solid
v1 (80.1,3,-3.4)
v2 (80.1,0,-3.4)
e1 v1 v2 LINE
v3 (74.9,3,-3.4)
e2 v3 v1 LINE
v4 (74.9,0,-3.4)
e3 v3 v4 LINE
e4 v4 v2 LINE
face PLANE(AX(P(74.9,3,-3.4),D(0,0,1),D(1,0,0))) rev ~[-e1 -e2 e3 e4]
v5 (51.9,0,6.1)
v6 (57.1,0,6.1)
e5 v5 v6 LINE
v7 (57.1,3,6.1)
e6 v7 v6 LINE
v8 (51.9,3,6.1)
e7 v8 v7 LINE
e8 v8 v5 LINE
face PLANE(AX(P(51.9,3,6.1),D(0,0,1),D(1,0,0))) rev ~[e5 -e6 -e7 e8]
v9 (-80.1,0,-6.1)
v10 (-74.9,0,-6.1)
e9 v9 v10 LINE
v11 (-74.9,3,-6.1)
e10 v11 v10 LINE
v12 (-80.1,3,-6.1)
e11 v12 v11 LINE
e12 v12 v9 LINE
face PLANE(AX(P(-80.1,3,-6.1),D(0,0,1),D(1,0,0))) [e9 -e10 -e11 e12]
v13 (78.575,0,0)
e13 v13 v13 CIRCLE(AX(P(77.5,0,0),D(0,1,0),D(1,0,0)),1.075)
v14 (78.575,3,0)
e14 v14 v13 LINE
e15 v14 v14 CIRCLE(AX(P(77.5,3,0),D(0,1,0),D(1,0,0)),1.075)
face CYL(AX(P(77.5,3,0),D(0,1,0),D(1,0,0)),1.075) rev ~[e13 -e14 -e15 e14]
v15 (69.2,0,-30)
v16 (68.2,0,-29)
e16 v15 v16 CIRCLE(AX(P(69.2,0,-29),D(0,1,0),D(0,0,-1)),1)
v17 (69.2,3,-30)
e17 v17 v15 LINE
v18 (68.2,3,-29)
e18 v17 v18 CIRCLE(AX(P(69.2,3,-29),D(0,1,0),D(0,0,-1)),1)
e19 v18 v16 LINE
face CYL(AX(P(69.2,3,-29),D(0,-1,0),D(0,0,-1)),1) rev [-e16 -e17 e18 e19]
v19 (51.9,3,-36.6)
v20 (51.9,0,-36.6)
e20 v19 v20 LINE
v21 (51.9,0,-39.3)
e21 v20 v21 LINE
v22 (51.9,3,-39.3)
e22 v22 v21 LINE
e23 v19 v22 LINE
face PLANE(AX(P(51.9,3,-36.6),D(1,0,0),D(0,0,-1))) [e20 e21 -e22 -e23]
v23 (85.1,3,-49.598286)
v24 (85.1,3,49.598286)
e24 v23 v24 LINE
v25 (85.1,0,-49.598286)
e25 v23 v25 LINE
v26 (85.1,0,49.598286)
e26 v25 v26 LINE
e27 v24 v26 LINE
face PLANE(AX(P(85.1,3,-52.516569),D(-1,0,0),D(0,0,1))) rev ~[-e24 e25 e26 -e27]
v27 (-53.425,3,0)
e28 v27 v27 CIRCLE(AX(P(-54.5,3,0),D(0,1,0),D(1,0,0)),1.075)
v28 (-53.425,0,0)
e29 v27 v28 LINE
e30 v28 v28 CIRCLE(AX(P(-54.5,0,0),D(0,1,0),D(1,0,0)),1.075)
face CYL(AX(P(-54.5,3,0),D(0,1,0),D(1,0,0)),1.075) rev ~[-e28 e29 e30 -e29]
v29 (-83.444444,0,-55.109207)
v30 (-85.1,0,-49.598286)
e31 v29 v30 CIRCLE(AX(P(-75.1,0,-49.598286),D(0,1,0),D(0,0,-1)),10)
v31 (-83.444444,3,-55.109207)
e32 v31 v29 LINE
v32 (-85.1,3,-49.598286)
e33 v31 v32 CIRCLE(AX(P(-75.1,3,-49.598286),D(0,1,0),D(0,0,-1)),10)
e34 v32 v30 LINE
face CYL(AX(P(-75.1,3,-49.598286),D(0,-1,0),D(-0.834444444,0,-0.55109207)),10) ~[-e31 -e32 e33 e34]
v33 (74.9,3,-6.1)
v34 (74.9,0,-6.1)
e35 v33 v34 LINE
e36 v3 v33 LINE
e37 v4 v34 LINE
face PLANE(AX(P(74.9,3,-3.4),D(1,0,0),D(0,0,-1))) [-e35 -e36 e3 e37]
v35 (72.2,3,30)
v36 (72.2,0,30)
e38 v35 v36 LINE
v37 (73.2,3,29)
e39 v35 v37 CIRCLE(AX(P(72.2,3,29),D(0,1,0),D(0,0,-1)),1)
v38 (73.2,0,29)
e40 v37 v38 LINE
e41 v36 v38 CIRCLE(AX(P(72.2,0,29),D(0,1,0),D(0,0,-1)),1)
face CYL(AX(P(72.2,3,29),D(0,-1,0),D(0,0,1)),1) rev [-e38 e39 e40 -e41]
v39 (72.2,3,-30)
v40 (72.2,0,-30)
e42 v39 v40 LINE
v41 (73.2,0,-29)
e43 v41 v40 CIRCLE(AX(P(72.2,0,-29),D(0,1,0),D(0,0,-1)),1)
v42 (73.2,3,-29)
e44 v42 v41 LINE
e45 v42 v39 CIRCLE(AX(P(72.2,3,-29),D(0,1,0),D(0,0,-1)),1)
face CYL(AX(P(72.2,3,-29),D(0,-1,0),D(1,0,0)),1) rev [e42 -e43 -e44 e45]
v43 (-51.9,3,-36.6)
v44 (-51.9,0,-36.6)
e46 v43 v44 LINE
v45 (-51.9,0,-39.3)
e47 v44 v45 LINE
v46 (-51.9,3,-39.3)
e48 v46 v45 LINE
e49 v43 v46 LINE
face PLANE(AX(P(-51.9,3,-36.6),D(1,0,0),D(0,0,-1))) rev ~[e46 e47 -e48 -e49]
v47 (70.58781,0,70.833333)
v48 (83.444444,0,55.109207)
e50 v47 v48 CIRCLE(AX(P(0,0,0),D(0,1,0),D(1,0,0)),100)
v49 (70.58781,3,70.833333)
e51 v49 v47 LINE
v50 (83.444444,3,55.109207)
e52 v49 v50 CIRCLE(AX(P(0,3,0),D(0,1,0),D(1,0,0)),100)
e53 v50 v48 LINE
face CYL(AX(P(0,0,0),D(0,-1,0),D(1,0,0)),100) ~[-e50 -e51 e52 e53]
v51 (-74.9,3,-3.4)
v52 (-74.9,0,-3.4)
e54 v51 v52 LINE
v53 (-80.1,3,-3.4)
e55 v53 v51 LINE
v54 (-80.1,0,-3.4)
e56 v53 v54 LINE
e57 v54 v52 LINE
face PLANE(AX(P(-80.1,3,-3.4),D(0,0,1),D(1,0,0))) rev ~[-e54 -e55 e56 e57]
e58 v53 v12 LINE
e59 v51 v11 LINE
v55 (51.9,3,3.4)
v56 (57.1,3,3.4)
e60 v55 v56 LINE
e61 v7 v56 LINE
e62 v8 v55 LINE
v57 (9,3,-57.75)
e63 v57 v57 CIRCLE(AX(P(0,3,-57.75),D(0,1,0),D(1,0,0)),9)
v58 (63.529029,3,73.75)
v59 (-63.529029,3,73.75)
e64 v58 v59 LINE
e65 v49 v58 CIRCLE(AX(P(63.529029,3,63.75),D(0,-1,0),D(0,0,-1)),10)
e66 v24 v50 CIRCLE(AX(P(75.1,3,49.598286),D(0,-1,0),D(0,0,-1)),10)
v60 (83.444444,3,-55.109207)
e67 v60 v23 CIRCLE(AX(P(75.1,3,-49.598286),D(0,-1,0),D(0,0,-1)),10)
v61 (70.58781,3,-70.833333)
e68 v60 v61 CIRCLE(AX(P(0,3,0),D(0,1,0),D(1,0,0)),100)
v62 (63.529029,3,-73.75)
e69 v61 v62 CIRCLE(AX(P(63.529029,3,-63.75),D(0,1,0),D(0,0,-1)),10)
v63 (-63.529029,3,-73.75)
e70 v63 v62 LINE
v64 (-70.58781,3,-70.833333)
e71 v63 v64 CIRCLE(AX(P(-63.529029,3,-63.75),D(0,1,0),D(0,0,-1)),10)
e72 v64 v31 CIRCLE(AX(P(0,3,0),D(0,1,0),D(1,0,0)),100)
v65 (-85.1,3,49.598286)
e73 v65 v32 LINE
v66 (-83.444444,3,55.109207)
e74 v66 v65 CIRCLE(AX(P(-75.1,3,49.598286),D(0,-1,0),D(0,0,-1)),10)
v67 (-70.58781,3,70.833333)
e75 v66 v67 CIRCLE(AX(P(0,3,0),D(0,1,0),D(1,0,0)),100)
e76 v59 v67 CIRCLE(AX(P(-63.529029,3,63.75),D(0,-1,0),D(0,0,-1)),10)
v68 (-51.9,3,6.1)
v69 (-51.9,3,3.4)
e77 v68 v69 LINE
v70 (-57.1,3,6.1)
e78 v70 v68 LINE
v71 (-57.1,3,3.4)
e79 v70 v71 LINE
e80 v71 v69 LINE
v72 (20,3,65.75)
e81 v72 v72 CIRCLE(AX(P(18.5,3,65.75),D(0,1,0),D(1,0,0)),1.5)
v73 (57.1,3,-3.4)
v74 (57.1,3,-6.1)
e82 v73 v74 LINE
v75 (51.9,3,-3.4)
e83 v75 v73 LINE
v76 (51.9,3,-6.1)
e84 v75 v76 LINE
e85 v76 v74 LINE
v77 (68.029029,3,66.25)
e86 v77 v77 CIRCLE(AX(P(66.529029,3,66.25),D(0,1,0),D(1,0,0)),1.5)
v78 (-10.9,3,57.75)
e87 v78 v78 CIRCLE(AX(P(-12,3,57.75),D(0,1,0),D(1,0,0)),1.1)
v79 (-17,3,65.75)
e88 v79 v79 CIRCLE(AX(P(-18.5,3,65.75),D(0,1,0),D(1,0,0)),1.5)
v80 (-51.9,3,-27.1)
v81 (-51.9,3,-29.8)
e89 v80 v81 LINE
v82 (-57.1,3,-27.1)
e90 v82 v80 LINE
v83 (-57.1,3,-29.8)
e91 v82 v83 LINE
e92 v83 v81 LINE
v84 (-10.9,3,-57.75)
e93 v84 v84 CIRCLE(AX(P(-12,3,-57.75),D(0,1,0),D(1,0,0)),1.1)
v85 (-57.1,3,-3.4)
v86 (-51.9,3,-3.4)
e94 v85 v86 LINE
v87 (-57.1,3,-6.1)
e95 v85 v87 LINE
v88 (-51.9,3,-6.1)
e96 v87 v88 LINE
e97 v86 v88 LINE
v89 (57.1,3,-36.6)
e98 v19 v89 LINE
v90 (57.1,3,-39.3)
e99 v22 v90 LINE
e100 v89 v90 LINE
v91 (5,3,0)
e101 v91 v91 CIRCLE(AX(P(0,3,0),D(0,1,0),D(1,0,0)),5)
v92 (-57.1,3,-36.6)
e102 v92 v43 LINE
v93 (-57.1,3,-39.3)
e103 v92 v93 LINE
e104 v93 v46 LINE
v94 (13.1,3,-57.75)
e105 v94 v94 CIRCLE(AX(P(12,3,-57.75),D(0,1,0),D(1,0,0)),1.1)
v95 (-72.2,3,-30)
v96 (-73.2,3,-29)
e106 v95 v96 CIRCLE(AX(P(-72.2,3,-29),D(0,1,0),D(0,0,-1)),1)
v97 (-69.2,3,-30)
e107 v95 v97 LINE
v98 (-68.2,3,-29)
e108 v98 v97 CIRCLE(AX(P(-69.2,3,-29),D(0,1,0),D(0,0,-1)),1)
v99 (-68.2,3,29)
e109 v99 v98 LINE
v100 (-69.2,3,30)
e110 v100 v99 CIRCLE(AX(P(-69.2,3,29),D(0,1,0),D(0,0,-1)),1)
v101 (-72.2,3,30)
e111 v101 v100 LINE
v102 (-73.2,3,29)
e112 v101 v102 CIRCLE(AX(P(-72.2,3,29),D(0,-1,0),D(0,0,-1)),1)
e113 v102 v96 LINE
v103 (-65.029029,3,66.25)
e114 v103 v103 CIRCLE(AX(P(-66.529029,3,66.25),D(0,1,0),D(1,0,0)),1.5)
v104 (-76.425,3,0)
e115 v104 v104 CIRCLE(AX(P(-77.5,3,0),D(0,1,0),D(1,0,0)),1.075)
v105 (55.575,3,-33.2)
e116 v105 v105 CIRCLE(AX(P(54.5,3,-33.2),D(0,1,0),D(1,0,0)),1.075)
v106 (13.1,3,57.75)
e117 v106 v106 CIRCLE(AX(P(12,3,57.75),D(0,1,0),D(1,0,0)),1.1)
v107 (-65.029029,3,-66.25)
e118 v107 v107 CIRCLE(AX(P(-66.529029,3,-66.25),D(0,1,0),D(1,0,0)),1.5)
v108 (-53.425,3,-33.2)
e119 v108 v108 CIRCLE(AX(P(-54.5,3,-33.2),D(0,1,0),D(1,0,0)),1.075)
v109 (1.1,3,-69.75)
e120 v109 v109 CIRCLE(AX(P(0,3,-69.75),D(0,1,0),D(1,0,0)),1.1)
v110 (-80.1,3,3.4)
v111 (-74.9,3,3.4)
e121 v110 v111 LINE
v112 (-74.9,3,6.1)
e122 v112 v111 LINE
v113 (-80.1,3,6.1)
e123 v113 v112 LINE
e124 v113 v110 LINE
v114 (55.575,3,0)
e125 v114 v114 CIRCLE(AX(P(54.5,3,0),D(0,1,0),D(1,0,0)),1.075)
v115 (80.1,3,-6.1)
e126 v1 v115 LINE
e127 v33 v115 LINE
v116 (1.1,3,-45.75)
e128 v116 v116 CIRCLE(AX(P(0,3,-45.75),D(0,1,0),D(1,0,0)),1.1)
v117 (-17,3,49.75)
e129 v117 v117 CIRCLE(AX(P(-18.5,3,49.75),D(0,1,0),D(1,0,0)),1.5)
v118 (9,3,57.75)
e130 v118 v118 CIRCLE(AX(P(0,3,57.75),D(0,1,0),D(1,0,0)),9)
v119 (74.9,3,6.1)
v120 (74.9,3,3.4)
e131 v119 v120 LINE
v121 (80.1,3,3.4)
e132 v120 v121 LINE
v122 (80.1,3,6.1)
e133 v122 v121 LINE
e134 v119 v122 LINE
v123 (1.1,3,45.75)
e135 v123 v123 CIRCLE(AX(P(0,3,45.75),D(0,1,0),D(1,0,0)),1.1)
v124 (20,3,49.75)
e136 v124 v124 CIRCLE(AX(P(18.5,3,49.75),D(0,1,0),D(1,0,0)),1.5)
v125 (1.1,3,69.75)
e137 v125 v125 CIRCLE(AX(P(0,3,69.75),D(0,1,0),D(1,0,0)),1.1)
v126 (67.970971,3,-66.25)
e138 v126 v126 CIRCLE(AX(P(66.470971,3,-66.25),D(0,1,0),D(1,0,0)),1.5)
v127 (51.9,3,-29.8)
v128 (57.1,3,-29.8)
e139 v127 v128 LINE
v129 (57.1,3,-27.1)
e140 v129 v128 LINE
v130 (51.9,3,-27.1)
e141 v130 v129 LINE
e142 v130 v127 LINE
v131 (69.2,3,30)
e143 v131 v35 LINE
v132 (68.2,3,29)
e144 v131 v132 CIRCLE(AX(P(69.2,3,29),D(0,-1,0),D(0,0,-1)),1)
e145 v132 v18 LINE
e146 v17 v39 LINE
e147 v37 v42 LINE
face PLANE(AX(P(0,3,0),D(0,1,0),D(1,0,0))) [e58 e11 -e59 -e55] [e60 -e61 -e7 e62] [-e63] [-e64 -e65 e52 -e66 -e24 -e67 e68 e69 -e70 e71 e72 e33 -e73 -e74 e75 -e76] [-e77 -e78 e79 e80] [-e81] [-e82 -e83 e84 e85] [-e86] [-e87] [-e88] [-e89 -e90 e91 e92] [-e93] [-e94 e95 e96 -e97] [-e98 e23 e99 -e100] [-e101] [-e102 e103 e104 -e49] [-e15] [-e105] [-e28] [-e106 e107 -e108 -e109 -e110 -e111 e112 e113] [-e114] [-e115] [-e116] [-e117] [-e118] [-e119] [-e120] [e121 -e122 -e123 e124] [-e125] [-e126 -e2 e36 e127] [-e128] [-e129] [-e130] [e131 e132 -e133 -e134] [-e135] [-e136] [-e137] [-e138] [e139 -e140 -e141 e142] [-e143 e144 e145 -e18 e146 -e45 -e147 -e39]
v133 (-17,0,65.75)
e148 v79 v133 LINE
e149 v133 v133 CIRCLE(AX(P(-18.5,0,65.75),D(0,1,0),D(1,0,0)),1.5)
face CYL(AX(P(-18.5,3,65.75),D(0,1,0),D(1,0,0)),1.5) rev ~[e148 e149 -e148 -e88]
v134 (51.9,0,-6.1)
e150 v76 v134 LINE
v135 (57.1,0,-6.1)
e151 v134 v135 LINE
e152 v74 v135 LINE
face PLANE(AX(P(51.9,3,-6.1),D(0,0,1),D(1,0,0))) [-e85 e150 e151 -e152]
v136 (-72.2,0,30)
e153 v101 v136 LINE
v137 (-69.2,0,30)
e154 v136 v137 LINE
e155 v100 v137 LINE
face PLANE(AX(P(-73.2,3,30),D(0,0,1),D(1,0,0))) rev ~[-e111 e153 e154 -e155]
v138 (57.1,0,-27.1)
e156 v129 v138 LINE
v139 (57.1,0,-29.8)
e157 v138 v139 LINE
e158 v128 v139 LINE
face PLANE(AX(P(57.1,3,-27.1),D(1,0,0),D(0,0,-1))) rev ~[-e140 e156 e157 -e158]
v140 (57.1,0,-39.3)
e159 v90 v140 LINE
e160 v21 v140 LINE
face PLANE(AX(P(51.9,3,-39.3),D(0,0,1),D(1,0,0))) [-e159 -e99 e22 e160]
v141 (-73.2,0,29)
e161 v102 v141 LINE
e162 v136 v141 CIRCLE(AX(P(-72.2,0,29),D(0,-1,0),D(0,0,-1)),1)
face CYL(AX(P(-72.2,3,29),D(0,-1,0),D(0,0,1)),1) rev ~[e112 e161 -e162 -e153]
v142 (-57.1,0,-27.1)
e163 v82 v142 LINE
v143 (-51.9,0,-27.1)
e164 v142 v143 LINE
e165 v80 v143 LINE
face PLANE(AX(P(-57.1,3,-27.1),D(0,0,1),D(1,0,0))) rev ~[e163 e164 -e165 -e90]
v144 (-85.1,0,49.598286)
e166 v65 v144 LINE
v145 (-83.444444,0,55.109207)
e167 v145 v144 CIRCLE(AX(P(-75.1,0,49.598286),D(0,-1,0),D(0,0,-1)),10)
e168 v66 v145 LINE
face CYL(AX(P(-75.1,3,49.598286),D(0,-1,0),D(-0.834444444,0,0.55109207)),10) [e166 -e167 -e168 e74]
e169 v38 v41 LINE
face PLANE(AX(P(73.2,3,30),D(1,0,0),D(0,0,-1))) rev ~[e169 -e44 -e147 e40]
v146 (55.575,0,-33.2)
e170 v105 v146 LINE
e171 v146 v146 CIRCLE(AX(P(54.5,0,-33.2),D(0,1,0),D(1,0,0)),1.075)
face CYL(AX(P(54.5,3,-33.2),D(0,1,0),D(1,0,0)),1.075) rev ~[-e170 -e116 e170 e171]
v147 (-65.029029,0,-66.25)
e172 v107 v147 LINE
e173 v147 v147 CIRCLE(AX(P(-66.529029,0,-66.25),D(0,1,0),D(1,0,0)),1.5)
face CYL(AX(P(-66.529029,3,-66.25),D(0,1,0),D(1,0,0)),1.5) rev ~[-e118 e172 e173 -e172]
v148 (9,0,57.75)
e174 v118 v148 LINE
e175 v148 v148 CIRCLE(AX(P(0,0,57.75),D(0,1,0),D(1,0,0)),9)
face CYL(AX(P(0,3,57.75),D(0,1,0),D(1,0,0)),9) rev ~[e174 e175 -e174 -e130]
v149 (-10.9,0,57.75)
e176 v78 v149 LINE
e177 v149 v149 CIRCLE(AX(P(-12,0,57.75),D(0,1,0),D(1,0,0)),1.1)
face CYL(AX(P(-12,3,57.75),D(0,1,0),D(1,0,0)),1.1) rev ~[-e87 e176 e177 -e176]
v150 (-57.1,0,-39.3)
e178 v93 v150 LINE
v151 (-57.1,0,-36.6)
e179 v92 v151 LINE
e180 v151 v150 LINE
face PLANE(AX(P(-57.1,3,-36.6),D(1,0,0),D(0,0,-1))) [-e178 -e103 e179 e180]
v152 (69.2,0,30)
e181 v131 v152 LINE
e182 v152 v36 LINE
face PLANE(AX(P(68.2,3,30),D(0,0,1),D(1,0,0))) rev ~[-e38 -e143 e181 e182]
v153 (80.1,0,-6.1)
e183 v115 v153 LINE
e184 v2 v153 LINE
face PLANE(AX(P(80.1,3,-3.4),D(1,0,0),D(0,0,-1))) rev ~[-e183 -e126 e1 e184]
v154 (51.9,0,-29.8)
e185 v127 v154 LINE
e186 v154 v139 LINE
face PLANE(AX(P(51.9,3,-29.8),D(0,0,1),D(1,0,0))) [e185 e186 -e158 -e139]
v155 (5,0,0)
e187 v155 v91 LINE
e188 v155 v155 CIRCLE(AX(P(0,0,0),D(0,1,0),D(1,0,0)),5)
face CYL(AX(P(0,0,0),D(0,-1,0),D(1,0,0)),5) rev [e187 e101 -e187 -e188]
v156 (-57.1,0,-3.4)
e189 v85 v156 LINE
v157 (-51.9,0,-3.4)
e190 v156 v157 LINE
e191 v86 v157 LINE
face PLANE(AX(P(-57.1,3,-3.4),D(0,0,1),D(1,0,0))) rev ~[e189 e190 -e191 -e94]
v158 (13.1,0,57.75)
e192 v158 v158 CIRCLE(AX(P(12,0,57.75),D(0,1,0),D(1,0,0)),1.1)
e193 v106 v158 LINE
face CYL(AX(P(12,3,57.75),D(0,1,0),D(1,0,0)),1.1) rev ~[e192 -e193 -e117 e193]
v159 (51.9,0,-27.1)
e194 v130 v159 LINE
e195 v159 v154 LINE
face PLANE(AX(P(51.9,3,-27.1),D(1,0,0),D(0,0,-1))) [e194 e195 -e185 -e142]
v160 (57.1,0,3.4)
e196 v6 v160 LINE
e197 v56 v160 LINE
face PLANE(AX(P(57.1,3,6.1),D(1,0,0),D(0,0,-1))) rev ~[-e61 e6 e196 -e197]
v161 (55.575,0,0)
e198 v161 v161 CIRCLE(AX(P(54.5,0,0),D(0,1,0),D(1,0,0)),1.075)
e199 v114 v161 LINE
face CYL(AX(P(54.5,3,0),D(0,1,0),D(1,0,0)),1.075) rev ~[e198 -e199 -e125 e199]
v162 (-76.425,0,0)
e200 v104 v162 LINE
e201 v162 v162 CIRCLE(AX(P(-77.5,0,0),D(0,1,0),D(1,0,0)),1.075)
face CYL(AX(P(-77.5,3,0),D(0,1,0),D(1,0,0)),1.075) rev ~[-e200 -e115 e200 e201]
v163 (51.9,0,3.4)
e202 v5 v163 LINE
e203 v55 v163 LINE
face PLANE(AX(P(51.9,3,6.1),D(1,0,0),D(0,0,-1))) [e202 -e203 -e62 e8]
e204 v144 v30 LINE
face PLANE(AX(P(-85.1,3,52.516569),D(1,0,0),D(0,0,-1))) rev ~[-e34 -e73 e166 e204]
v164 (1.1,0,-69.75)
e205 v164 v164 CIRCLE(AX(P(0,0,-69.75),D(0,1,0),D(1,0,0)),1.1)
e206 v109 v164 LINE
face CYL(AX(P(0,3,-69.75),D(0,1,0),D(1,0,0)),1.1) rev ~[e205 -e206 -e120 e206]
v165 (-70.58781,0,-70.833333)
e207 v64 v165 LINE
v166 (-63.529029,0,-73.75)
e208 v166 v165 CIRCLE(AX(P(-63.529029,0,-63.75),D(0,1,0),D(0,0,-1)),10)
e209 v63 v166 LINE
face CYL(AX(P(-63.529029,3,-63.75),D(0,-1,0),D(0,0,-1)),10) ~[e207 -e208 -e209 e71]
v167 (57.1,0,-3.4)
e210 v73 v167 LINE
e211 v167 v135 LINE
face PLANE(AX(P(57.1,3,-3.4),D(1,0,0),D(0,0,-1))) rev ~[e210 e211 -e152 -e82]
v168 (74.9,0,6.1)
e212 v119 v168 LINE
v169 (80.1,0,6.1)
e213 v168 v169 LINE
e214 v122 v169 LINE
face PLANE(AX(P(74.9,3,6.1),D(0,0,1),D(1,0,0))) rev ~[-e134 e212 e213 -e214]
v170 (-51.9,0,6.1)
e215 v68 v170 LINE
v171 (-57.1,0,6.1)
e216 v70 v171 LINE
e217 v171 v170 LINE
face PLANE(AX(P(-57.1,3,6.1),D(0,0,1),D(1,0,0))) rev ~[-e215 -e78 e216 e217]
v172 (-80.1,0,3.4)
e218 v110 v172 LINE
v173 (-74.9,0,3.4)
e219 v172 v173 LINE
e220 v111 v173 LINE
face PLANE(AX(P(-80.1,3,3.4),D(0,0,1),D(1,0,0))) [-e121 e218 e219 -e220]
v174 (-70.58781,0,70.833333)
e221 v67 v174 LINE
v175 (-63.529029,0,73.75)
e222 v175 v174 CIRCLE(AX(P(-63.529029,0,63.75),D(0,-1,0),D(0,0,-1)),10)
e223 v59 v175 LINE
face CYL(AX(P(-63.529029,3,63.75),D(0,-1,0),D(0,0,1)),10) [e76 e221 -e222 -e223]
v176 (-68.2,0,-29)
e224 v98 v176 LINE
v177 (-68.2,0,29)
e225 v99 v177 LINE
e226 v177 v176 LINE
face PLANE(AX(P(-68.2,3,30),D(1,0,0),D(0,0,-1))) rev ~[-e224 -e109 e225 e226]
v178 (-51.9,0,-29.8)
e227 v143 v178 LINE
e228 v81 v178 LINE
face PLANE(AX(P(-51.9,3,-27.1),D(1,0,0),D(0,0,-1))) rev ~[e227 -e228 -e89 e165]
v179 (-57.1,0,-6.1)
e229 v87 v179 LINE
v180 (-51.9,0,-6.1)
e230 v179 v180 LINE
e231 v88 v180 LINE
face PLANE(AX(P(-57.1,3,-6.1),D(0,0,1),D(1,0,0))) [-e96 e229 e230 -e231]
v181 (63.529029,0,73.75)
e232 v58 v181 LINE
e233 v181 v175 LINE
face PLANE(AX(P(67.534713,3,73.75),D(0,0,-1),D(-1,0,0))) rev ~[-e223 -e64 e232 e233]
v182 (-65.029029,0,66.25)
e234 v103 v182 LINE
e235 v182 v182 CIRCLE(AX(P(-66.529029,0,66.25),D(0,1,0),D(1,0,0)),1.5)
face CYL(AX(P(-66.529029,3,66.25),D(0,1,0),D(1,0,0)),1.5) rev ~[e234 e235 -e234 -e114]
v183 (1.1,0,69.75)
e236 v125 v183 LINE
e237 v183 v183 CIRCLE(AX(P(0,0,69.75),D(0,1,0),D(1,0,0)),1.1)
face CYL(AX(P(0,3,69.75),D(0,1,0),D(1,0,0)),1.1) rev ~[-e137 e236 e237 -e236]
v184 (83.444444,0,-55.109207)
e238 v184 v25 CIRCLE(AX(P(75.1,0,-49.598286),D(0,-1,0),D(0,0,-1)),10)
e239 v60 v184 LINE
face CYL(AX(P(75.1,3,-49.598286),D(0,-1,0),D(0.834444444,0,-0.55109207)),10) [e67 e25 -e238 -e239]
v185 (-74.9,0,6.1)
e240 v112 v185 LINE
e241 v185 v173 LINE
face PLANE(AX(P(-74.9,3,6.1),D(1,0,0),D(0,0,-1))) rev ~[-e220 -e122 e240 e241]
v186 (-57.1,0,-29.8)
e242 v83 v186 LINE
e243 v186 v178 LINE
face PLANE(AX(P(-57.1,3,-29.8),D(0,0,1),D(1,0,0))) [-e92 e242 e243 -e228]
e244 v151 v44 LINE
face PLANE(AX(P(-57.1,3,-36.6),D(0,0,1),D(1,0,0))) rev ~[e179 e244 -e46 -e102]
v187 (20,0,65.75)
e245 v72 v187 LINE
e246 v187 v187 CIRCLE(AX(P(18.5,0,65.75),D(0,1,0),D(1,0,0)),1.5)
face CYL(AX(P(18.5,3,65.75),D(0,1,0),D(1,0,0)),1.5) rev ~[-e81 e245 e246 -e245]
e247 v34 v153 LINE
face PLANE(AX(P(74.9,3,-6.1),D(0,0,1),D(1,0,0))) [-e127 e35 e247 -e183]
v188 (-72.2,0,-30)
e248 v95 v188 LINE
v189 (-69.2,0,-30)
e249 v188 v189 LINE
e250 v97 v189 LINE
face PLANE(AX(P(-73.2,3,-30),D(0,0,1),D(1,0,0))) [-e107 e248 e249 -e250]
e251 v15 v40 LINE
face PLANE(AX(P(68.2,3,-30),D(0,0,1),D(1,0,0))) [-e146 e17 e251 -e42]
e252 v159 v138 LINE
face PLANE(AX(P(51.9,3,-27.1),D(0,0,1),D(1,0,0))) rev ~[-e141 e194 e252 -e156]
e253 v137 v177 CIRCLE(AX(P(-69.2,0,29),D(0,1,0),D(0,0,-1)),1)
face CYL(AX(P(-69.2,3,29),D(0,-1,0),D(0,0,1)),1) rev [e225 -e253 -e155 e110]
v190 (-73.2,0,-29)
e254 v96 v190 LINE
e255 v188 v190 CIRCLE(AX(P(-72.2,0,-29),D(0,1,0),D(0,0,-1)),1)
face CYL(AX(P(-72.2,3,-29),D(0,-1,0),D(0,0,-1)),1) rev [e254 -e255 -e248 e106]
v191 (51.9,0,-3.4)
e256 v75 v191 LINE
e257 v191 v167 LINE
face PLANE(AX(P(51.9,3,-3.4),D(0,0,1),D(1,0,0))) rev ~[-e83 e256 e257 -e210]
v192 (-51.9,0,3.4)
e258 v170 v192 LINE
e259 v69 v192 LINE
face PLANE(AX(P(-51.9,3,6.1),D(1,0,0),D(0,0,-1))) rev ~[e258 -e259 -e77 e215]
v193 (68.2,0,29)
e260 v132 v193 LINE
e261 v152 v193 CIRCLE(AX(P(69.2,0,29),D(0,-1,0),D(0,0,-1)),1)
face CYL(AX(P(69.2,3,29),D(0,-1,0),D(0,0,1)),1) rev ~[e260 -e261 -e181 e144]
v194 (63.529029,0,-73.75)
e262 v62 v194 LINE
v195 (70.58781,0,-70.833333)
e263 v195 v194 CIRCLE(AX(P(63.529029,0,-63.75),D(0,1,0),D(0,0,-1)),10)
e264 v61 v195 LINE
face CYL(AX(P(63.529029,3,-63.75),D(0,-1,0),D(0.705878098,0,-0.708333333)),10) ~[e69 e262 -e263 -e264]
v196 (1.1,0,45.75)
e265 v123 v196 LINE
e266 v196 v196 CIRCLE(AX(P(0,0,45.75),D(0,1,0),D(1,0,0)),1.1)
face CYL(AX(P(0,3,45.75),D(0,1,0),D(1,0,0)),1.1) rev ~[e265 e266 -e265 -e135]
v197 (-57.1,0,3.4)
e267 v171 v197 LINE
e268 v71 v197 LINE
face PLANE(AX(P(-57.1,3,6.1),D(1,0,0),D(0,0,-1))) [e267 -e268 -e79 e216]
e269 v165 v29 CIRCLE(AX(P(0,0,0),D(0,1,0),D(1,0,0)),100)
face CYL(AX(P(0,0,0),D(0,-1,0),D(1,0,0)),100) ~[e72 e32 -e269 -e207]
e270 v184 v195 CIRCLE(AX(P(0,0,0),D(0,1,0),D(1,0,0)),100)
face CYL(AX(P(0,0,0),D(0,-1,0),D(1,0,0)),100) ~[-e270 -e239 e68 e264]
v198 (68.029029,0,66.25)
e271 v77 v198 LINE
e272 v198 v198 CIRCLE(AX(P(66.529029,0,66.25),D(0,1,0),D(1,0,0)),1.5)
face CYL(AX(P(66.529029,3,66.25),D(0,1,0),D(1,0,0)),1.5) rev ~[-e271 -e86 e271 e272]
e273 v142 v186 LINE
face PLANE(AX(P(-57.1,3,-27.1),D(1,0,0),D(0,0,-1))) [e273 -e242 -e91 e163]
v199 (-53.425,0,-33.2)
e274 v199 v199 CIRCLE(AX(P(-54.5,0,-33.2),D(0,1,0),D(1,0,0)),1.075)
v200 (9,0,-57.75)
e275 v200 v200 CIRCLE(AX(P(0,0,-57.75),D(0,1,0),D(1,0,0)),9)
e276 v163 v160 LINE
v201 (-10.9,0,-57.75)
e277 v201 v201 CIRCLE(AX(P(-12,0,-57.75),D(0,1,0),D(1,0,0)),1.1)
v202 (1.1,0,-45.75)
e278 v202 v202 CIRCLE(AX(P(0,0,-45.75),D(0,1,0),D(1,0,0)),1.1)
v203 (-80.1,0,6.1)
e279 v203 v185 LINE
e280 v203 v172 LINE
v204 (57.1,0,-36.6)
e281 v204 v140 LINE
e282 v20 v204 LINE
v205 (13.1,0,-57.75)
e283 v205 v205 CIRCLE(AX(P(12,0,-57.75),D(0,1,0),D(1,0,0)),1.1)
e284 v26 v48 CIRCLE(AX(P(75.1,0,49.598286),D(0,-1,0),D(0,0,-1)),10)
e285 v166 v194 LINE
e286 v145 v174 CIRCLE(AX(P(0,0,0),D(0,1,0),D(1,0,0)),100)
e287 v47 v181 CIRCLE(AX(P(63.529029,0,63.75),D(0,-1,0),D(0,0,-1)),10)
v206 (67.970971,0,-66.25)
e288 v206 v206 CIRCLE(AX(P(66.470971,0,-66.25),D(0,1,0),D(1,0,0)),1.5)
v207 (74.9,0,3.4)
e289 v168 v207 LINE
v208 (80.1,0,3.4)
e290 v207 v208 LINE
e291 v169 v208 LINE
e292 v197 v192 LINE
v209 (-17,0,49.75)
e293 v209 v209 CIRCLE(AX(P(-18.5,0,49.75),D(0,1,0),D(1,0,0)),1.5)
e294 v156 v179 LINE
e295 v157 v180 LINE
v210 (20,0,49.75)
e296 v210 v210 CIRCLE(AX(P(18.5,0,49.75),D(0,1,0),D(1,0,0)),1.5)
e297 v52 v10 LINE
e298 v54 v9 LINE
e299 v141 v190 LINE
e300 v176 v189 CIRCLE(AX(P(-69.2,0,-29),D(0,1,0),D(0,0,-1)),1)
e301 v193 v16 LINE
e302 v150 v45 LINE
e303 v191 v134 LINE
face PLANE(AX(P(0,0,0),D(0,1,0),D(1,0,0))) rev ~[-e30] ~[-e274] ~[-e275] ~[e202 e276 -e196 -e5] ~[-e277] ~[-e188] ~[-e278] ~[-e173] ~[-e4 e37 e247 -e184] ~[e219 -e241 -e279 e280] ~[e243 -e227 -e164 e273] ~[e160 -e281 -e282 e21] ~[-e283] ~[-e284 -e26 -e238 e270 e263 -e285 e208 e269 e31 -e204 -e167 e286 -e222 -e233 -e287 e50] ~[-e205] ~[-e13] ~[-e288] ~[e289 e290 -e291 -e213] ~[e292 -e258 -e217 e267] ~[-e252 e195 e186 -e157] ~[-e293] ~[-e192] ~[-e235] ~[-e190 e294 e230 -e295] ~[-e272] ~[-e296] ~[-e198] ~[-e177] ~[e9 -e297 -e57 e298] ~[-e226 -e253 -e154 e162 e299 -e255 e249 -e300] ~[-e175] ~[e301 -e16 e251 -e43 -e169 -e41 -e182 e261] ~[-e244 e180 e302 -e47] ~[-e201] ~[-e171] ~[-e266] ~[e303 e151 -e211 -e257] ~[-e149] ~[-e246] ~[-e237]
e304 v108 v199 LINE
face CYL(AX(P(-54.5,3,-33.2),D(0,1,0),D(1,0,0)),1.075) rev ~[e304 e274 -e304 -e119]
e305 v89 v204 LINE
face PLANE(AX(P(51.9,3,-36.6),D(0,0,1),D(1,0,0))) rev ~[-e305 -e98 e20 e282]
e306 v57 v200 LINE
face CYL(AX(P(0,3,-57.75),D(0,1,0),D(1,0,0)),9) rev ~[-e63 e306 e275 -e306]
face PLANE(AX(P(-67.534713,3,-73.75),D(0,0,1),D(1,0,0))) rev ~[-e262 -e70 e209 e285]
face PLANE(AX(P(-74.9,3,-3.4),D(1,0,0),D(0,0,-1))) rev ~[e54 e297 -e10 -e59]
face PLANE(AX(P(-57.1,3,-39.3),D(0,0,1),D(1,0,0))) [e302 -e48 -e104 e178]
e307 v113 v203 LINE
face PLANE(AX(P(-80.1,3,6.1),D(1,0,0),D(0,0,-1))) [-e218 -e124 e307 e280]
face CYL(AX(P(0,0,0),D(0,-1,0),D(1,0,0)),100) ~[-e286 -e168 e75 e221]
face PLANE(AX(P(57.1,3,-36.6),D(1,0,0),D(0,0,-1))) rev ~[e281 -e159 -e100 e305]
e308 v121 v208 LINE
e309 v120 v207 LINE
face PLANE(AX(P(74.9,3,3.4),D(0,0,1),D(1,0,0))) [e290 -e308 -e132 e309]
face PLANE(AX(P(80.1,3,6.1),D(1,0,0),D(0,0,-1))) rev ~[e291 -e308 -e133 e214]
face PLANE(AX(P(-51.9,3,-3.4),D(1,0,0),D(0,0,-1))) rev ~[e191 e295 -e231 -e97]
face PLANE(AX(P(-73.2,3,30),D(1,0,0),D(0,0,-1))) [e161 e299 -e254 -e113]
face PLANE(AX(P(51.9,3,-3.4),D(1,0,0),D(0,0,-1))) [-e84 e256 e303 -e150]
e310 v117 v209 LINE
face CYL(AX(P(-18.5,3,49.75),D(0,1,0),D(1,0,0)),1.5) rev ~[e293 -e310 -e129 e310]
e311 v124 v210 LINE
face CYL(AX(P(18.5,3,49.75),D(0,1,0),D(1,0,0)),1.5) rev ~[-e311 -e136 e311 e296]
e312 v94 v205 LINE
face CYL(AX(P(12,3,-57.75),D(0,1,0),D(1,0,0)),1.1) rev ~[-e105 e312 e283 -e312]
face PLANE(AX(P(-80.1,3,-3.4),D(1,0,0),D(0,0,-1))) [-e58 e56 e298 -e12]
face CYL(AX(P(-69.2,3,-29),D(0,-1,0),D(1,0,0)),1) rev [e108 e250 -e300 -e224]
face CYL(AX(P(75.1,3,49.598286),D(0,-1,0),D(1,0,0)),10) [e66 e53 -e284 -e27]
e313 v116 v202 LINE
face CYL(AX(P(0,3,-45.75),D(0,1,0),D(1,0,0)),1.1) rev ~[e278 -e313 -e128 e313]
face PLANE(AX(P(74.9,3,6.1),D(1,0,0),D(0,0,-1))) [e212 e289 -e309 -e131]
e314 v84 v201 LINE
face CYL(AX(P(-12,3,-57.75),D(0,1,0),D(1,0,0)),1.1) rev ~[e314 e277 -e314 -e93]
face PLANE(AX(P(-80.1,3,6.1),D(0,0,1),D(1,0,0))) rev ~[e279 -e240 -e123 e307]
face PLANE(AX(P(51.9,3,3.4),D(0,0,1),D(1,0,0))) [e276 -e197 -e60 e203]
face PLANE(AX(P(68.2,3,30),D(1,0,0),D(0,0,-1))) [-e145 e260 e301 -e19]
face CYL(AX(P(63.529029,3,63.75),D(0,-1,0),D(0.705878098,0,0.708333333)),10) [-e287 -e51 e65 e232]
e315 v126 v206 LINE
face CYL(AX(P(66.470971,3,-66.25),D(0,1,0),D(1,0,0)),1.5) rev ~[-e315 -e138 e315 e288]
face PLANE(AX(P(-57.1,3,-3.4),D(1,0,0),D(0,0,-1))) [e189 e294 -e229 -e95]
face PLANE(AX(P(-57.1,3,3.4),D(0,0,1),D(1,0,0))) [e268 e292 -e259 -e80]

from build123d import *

# Parameters (mm, degrees)
SKETCH1_R                = 100
SKETCH1_R_2              = 5
BOSS_EXTRUDE1_DEPTH      = 3
SKETCH2_W                = 5.2
SKETCH2_H                = 2.7
CUT_EXTRUDE1_DEPTH       = 4
CUT_EXTRUDE2_DEPTH       = 4
SKETCH4_W                = 5
SKETCH4_H                = 60
CUT_EXTRUDE3_DEPTH       = 4
FILLET3_R                = 10
FILLET2_R                = 1
SKETCH5_R                = 1.075
CUT_EXTRUDE4_DEPTH       = 4
SKETCH6_R                = 9
SKETCH6_R_2              = 1.1
CUT_EXTRUDE5_DEPTH       = 4
IR_HOLDER_HOLES_REACH    = 5
IR_HOLDER_HOLES_SKETCH_R = 1.5
PLATFORM_HOLES_REACH     = 5
PLATFORM_HOLES_SKETCH_R  = 1.5


with BuildPart() as part:
    # Sketch1 → Boss-Extrude1 (new body)
    with BuildSketch(Plane(origin=(0, 0, 0), x_dir=(1, 0, 0), z_dir=(0, 1, 0))):
        Circle(SKETCH1_R)
        Circle(SKETCH1_R_2, mode=Mode.SUBTRACT)
    extrude(amount=BOSS_EXTRUDE1_DEPTH)

    # Sketch2 → Cut-Extrude1 (cut, through all)
    with BuildSketch(Plane(origin=(0, 3, 0), x_dir=(1, 0, 0), z_dir=(0, 1, 0))):
        with Locations((-54.5, 37.95)):
            Rectangle(SKETCH2_W, SKETCH2_H)
        with Locations((-54.5, 28.45)):
            Rectangle(SKETCH2_W, SKETCH2_H)
        with Locations((-54.5, 4.75)):
            Rectangle(SKETCH2_W, SKETCH2_H)
        with Locations((-54.5, -4.75)):
            Rectangle(SKETCH2_W, SKETCH2_H)
        with Locations((-77.5, -4.75)):
            Rectangle(SKETCH2_W, SKETCH2_H)
        with Locations((-77.5, 4.75)):
            Rectangle(SKETCH2_W, SKETCH2_H)
        with Locations((54.5, 28.45)):
            Rectangle(SKETCH2_W, SKETCH2_H)
        with Locations((54.5, 37.95)):
            Rectangle(SKETCH2_W, SKETCH2_H)
        with Locations((77.5, 4.75)):
            Rectangle(SKETCH2_W, SKETCH2_H)
        with Locations((77.5, -4.75)):
            Rectangle(SKETCH2_W, SKETCH2_H)
        with Locations((54.5, -4.75)):
            Rectangle(SKETCH2_W, SKETCH2_H)
        with Locations((54.5, 4.75)):
            Rectangle(SKETCH2_W, SKETCH2_H)
    extrude(amount=-CUT_EXTRUDE1_DEPTH, mode=Mode.SUBTRACT)

    # Sketch3 → Cut-Extrude2 (cut, through all)
    with BuildSketch(Plane(origin=(0, 3, 0), x_dir=(1, 0, 0), z_dir=(0, 1, 0))):
        with BuildLine():
            ThreePointArc((67.534713296, 73.75), (0, 100), (-67.534713296, 73.75))
            Line((-67.534713296, 73.75), (67.534713296, 73.75))
        make_face()
        with BuildLine():
            Line((-85.1, -52.516568814), (-85.1, 52.516568814))
            ThreePointArc((-85.1, 52.516568814), (-100, 0), (-85.1, -52.516568814))
        make_face()
        with BuildLine():
            Line((67.534713296, -73.75), (-67.534713296, -73.75))
            ThreePointArc((-67.534713296, -73.75), (0, -100), (67.534713296, -73.75))
        make_face()
        with BuildLine():
            ThreePointArc((100, 0), (96.202910559, 27.294688128), (85.1, 52.516568814))
            Line((85.1, 52.516568814), (85.1, -52.516568814))
            ThreePointArc((85.1, -52.516568814), (96.202910559, -27.294688128), (100, 0))
        make_face()
    extrude(amount=-CUT_EXTRUDE2_DEPTH, mode=Mode.SUBTRACT)

    # Sketch4 → Cut-Extrude3 (cut, through all)
    with BuildSketch(Plane(origin=(0, 3, 0), x_dir=(1, 0, 0), z_dir=(0, 1, 0))):
        with Locations((-70.7, 0)):
            Rectangle(SKETCH4_W, SKETCH4_H)
        with Locations((70.7, 0)):
            Rectangle(SKETCH4_W, SKETCH4_H)
    extrude(amount=-CUT_EXTRUDE3_DEPTH, mode=Mode.SUBTRACT)

    # Fillet3
    fillet3_edges = [part.edges().sort_by_distance(p)[0] for p in [
        (-67.534713296, 1.5, -73.75),
        (67.534713296, 1.5, -73.75),
        (-85.1, 1.5, -52.516568814),
        (-85.1, 1.5, 52.516568814),
        (-67.534713296, 1.5, 73.75),
        (67.534713296, 1.5, 73.75),
        (85.1, 1.5, -52.516568814),
        (85.1, 1.5, 52.516568814),
    ]]
    fillet(fillet3_edges, radius=FILLET3_R)

    # Fillet2
    fillet2_edges = [part.edges().sort_by_distance(p)[0] for p in [
        (-73.2, 1.5, 30),
        (-73.2, 1.5, -30),
        (-68.2, 1.5, -30),
        (-68.2, 1.5, 30),
        (73.2, 1.5, -30),
        (73.2, 1.5, 30),
        (68.2, 1.5, 30),
        (68.2, 1.5, -30),
    ]]
    fillet(fillet2_edges, radius=FILLET2_R)

    # Sketch5 → Cut-Extrude4 (cut, through all)
    with BuildSketch(Plane(origin=(0, 3, 0), x_dir=(1, 0, 0), z_dir=(0, 1, 0))):
        with Locations((-54.5, 33.2)):
            Circle(SKETCH5_R)
        with Locations((-54.5, 0)):
            Circle(SKETCH5_R)
        with Locations((-77.5, 0)):
            Circle(SKETCH5_R)
        with Locations((77.5, 0)):
            Circle(SKETCH5_R)
        with Locations((54.5, 0)):
            Circle(SKETCH5_R)
        with Locations((54.5, 33.2)):
            Circle(SKETCH5_R)
    extrude(amount=-CUT_EXTRUDE4_DEPTH, mode=Mode.SUBTRACT)

    # Sketch6 → Cut-Extrude5 (cut, through all)
    with BuildSketch(Plane(origin=(0, 3, 0), x_dir=(1, 0, 0), z_dir=(0, 1, 0))):
        with Locations((0, 57.75)):
            Circle(SKETCH6_R)
        with Locations((0, 69.75)):
            Circle(SKETCH6_R_2)
        with Locations((12, 57.75)):
            Circle(SKETCH6_R_2)
        with Locations((0, 45.75)):
            Circle(SKETCH6_R_2)
        with Locations((-12, 57.75)):
            Circle(SKETCH6_R_2)
        with Locations((-12, -57.75)):
            Circle(SKETCH6_R_2)
        with Locations((0, -45.75)):
            Circle(SKETCH6_R_2)
        with Locations((12, -57.75)):
            Circle(SKETCH6_R_2)
        with Locations((0, -69.75)):
            Circle(SKETCH6_R_2)
        with Locations((0, -57.75)):
            Circle(SKETCH6_R)
    extrude(amount=-CUT_EXTRUDE5_DEPTH, mode=Mode.SUBTRACT)

    # IR Holder Holes Sketch → IR Holder Holes (cut, up to next)
    with BuildSketch(Plane(origin=(0, 3, 0), x_dir=(1, 0, 0), z_dir=(0, 1, 0)), mode=Mode.PRIVATE) as ir_holder_holes_sk1:
        with Locations((18.5, -65.75)):
            Circle(IR_HOLDER_HOLES_SKETCH_R)
    ir_holder_holes_tool1 = extrude(ir_holder_holes_sk1.sketch, amount=-IR_HOLDER_HOLES_REACH, mode=Mode.PRIVATE) & part.part
    add(ir_holder_holes_tool1.solids().sort_by_distance((18.5, 3, 65.75))[0], mode=Mode.SUBTRACT)
    # IR Holder Holes Sketch → IR Holder Holes (cut, up to next)
    with BuildSketch(Plane(origin=(0, 3, 0), x_dir=(1, 0, 0), z_dir=(0, 1, 0)), mode=Mode.PRIVATE) as ir_holder_holes_sk2:
        with Locations((18.5, -49.75)):
            Circle(IR_HOLDER_HOLES_SKETCH_R)
    ir_holder_holes_tool2 = extrude(ir_holder_holes_sk2.sketch, amount=-IR_HOLDER_HOLES_REACH, mode=Mode.PRIVATE) & part.part
    add(ir_holder_holes_tool2.solids().sort_by_distance((18.5, 3, 49.75))[0], mode=Mode.SUBTRACT)
    # IR Holder Holes Sketch → IR Holder Holes (cut, up to next)
    with BuildSketch(Plane(origin=(0, 3, 0), x_dir=(1, 0, 0), z_dir=(0, 1, 0)), mode=Mode.PRIVATE) as ir_holder_holes_sk3:
        with Locations((-18.5, -65.75)):
            Circle(IR_HOLDER_HOLES_SKETCH_R)
    ir_holder_holes_tool3 = extrude(ir_holder_holes_sk3.sketch, amount=-IR_HOLDER_HOLES_REACH, mode=Mode.PRIVATE) & part.part
    add(ir_holder_holes_tool3.solids().sort_by_distance((-18.5, 3, 65.75))[0], mode=Mode.SUBTRACT)
    # IR Holder Holes Sketch → IR Holder Holes (cut, up to next)
    with BuildSketch(Plane(origin=(0, 3, 0), x_dir=(1, 0, 0), z_dir=(0, 1, 0)), mode=Mode.PRIVATE) as ir_holder_holes_sk4:
        with Locations((-18.5, -49.75)):
            Circle(IR_HOLDER_HOLES_SKETCH_R)
    ir_holder_holes_tool4 = extrude(ir_holder_holes_sk4.sketch, amount=-IR_HOLDER_HOLES_REACH, mode=Mode.PRIVATE) & part.part
    add(ir_holder_holes_tool4.solids().sort_by_distance((-18.5, 3, 49.75))[0], mode=Mode.SUBTRACT)

    # Platform Holes Sketch → Platform Holes (cut, up to next)
    with BuildSketch(Plane(origin=(0, 3, 0), x_dir=(1, 0, 0), z_dir=(0, 1, 0)), mode=Mode.PRIVATE) as platform_holes_sk1:
        with Locations((-66.529028798, 66.25)):
            Circle(PLATFORM_HOLES_SKETCH_R)
    platform_holes_tool1 = extrude(platform_holes_sk1.sketch, amount=-PLATFORM_HOLES_REACH, mode=Mode.PRIVATE) & part.part
    add(platform_holes_tool1.solids().sort_by_distance((-66.529029, 3, -66.25))[0], mode=Mode.SUBTRACT)
    # Platform Holes Sketch → Platform Holes (cut, up to next)
    with BuildSketch(Plane(origin=(0, 3, 0), x_dir=(1, 0, 0), z_dir=(0, 1, 0)), mode=Mode.PRIVATE) as platform_holes_sk2:
        with Locations((66.470971202, 66.25)):
            Circle(PLATFORM_HOLES_SKETCH_R)
    platform_holes_tool2 = extrude(platform_holes_sk2.sketch, amount=-PLATFORM_HOLES_REACH, mode=Mode.PRIVATE) & part.part
    add(platform_holes_tool2.solids().sort_by_distance((66.470971, 3, -66.25))[0], mode=Mode.SUBTRACT)
    # Platform Holes Sketch → Platform Holes (cut, up to next)
    with BuildSketch(Plane(origin=(0, 3, 0), x_dir=(1, 0, 0), z_dir=(0, 1, 0)), mode=Mode.PRIVATE) as platform_holes_sk3:
        with Locations((-66.529028798, -66.25)):
            Circle(PLATFORM_HOLES_SKETCH_R)
    platform_holes_tool3 = extrude(platform_holes_sk3.sketch, amount=-PLATFORM_HOLES_REACH, mode=Mode.PRIVATE) & part.part
    add(platform_holes_tool3.solids().sort_by_distance((-66.529029, 3, 66.25))[0], mode=Mode.SUBTRACT)
    # Platform Holes Sketch → Platform Holes (cut, up to next)
    with BuildSketch(Plane(origin=(0, 3, 0), x_dir=(1, 0, 0), z_dir=(0, 1, 0)), mode=Mode.PRIVATE) as platform_holes_sk4:
        with Locations((66.529028798, -66.25)):
            Circle(PLATFORM_HOLES_SKETCH_R)
    platform_holes_tool4 = extrude(platform_holes_sk4.sketch, amount=-PLATFORM_HOLES_REACH, mode=Mode.PRIVATE) & part.part
    add(platform_holes_tool4.solids().sort_by_distance((66.529029, 3, 66.25))[0], mode=Mode.SUBTRACT)


solid = part.part
